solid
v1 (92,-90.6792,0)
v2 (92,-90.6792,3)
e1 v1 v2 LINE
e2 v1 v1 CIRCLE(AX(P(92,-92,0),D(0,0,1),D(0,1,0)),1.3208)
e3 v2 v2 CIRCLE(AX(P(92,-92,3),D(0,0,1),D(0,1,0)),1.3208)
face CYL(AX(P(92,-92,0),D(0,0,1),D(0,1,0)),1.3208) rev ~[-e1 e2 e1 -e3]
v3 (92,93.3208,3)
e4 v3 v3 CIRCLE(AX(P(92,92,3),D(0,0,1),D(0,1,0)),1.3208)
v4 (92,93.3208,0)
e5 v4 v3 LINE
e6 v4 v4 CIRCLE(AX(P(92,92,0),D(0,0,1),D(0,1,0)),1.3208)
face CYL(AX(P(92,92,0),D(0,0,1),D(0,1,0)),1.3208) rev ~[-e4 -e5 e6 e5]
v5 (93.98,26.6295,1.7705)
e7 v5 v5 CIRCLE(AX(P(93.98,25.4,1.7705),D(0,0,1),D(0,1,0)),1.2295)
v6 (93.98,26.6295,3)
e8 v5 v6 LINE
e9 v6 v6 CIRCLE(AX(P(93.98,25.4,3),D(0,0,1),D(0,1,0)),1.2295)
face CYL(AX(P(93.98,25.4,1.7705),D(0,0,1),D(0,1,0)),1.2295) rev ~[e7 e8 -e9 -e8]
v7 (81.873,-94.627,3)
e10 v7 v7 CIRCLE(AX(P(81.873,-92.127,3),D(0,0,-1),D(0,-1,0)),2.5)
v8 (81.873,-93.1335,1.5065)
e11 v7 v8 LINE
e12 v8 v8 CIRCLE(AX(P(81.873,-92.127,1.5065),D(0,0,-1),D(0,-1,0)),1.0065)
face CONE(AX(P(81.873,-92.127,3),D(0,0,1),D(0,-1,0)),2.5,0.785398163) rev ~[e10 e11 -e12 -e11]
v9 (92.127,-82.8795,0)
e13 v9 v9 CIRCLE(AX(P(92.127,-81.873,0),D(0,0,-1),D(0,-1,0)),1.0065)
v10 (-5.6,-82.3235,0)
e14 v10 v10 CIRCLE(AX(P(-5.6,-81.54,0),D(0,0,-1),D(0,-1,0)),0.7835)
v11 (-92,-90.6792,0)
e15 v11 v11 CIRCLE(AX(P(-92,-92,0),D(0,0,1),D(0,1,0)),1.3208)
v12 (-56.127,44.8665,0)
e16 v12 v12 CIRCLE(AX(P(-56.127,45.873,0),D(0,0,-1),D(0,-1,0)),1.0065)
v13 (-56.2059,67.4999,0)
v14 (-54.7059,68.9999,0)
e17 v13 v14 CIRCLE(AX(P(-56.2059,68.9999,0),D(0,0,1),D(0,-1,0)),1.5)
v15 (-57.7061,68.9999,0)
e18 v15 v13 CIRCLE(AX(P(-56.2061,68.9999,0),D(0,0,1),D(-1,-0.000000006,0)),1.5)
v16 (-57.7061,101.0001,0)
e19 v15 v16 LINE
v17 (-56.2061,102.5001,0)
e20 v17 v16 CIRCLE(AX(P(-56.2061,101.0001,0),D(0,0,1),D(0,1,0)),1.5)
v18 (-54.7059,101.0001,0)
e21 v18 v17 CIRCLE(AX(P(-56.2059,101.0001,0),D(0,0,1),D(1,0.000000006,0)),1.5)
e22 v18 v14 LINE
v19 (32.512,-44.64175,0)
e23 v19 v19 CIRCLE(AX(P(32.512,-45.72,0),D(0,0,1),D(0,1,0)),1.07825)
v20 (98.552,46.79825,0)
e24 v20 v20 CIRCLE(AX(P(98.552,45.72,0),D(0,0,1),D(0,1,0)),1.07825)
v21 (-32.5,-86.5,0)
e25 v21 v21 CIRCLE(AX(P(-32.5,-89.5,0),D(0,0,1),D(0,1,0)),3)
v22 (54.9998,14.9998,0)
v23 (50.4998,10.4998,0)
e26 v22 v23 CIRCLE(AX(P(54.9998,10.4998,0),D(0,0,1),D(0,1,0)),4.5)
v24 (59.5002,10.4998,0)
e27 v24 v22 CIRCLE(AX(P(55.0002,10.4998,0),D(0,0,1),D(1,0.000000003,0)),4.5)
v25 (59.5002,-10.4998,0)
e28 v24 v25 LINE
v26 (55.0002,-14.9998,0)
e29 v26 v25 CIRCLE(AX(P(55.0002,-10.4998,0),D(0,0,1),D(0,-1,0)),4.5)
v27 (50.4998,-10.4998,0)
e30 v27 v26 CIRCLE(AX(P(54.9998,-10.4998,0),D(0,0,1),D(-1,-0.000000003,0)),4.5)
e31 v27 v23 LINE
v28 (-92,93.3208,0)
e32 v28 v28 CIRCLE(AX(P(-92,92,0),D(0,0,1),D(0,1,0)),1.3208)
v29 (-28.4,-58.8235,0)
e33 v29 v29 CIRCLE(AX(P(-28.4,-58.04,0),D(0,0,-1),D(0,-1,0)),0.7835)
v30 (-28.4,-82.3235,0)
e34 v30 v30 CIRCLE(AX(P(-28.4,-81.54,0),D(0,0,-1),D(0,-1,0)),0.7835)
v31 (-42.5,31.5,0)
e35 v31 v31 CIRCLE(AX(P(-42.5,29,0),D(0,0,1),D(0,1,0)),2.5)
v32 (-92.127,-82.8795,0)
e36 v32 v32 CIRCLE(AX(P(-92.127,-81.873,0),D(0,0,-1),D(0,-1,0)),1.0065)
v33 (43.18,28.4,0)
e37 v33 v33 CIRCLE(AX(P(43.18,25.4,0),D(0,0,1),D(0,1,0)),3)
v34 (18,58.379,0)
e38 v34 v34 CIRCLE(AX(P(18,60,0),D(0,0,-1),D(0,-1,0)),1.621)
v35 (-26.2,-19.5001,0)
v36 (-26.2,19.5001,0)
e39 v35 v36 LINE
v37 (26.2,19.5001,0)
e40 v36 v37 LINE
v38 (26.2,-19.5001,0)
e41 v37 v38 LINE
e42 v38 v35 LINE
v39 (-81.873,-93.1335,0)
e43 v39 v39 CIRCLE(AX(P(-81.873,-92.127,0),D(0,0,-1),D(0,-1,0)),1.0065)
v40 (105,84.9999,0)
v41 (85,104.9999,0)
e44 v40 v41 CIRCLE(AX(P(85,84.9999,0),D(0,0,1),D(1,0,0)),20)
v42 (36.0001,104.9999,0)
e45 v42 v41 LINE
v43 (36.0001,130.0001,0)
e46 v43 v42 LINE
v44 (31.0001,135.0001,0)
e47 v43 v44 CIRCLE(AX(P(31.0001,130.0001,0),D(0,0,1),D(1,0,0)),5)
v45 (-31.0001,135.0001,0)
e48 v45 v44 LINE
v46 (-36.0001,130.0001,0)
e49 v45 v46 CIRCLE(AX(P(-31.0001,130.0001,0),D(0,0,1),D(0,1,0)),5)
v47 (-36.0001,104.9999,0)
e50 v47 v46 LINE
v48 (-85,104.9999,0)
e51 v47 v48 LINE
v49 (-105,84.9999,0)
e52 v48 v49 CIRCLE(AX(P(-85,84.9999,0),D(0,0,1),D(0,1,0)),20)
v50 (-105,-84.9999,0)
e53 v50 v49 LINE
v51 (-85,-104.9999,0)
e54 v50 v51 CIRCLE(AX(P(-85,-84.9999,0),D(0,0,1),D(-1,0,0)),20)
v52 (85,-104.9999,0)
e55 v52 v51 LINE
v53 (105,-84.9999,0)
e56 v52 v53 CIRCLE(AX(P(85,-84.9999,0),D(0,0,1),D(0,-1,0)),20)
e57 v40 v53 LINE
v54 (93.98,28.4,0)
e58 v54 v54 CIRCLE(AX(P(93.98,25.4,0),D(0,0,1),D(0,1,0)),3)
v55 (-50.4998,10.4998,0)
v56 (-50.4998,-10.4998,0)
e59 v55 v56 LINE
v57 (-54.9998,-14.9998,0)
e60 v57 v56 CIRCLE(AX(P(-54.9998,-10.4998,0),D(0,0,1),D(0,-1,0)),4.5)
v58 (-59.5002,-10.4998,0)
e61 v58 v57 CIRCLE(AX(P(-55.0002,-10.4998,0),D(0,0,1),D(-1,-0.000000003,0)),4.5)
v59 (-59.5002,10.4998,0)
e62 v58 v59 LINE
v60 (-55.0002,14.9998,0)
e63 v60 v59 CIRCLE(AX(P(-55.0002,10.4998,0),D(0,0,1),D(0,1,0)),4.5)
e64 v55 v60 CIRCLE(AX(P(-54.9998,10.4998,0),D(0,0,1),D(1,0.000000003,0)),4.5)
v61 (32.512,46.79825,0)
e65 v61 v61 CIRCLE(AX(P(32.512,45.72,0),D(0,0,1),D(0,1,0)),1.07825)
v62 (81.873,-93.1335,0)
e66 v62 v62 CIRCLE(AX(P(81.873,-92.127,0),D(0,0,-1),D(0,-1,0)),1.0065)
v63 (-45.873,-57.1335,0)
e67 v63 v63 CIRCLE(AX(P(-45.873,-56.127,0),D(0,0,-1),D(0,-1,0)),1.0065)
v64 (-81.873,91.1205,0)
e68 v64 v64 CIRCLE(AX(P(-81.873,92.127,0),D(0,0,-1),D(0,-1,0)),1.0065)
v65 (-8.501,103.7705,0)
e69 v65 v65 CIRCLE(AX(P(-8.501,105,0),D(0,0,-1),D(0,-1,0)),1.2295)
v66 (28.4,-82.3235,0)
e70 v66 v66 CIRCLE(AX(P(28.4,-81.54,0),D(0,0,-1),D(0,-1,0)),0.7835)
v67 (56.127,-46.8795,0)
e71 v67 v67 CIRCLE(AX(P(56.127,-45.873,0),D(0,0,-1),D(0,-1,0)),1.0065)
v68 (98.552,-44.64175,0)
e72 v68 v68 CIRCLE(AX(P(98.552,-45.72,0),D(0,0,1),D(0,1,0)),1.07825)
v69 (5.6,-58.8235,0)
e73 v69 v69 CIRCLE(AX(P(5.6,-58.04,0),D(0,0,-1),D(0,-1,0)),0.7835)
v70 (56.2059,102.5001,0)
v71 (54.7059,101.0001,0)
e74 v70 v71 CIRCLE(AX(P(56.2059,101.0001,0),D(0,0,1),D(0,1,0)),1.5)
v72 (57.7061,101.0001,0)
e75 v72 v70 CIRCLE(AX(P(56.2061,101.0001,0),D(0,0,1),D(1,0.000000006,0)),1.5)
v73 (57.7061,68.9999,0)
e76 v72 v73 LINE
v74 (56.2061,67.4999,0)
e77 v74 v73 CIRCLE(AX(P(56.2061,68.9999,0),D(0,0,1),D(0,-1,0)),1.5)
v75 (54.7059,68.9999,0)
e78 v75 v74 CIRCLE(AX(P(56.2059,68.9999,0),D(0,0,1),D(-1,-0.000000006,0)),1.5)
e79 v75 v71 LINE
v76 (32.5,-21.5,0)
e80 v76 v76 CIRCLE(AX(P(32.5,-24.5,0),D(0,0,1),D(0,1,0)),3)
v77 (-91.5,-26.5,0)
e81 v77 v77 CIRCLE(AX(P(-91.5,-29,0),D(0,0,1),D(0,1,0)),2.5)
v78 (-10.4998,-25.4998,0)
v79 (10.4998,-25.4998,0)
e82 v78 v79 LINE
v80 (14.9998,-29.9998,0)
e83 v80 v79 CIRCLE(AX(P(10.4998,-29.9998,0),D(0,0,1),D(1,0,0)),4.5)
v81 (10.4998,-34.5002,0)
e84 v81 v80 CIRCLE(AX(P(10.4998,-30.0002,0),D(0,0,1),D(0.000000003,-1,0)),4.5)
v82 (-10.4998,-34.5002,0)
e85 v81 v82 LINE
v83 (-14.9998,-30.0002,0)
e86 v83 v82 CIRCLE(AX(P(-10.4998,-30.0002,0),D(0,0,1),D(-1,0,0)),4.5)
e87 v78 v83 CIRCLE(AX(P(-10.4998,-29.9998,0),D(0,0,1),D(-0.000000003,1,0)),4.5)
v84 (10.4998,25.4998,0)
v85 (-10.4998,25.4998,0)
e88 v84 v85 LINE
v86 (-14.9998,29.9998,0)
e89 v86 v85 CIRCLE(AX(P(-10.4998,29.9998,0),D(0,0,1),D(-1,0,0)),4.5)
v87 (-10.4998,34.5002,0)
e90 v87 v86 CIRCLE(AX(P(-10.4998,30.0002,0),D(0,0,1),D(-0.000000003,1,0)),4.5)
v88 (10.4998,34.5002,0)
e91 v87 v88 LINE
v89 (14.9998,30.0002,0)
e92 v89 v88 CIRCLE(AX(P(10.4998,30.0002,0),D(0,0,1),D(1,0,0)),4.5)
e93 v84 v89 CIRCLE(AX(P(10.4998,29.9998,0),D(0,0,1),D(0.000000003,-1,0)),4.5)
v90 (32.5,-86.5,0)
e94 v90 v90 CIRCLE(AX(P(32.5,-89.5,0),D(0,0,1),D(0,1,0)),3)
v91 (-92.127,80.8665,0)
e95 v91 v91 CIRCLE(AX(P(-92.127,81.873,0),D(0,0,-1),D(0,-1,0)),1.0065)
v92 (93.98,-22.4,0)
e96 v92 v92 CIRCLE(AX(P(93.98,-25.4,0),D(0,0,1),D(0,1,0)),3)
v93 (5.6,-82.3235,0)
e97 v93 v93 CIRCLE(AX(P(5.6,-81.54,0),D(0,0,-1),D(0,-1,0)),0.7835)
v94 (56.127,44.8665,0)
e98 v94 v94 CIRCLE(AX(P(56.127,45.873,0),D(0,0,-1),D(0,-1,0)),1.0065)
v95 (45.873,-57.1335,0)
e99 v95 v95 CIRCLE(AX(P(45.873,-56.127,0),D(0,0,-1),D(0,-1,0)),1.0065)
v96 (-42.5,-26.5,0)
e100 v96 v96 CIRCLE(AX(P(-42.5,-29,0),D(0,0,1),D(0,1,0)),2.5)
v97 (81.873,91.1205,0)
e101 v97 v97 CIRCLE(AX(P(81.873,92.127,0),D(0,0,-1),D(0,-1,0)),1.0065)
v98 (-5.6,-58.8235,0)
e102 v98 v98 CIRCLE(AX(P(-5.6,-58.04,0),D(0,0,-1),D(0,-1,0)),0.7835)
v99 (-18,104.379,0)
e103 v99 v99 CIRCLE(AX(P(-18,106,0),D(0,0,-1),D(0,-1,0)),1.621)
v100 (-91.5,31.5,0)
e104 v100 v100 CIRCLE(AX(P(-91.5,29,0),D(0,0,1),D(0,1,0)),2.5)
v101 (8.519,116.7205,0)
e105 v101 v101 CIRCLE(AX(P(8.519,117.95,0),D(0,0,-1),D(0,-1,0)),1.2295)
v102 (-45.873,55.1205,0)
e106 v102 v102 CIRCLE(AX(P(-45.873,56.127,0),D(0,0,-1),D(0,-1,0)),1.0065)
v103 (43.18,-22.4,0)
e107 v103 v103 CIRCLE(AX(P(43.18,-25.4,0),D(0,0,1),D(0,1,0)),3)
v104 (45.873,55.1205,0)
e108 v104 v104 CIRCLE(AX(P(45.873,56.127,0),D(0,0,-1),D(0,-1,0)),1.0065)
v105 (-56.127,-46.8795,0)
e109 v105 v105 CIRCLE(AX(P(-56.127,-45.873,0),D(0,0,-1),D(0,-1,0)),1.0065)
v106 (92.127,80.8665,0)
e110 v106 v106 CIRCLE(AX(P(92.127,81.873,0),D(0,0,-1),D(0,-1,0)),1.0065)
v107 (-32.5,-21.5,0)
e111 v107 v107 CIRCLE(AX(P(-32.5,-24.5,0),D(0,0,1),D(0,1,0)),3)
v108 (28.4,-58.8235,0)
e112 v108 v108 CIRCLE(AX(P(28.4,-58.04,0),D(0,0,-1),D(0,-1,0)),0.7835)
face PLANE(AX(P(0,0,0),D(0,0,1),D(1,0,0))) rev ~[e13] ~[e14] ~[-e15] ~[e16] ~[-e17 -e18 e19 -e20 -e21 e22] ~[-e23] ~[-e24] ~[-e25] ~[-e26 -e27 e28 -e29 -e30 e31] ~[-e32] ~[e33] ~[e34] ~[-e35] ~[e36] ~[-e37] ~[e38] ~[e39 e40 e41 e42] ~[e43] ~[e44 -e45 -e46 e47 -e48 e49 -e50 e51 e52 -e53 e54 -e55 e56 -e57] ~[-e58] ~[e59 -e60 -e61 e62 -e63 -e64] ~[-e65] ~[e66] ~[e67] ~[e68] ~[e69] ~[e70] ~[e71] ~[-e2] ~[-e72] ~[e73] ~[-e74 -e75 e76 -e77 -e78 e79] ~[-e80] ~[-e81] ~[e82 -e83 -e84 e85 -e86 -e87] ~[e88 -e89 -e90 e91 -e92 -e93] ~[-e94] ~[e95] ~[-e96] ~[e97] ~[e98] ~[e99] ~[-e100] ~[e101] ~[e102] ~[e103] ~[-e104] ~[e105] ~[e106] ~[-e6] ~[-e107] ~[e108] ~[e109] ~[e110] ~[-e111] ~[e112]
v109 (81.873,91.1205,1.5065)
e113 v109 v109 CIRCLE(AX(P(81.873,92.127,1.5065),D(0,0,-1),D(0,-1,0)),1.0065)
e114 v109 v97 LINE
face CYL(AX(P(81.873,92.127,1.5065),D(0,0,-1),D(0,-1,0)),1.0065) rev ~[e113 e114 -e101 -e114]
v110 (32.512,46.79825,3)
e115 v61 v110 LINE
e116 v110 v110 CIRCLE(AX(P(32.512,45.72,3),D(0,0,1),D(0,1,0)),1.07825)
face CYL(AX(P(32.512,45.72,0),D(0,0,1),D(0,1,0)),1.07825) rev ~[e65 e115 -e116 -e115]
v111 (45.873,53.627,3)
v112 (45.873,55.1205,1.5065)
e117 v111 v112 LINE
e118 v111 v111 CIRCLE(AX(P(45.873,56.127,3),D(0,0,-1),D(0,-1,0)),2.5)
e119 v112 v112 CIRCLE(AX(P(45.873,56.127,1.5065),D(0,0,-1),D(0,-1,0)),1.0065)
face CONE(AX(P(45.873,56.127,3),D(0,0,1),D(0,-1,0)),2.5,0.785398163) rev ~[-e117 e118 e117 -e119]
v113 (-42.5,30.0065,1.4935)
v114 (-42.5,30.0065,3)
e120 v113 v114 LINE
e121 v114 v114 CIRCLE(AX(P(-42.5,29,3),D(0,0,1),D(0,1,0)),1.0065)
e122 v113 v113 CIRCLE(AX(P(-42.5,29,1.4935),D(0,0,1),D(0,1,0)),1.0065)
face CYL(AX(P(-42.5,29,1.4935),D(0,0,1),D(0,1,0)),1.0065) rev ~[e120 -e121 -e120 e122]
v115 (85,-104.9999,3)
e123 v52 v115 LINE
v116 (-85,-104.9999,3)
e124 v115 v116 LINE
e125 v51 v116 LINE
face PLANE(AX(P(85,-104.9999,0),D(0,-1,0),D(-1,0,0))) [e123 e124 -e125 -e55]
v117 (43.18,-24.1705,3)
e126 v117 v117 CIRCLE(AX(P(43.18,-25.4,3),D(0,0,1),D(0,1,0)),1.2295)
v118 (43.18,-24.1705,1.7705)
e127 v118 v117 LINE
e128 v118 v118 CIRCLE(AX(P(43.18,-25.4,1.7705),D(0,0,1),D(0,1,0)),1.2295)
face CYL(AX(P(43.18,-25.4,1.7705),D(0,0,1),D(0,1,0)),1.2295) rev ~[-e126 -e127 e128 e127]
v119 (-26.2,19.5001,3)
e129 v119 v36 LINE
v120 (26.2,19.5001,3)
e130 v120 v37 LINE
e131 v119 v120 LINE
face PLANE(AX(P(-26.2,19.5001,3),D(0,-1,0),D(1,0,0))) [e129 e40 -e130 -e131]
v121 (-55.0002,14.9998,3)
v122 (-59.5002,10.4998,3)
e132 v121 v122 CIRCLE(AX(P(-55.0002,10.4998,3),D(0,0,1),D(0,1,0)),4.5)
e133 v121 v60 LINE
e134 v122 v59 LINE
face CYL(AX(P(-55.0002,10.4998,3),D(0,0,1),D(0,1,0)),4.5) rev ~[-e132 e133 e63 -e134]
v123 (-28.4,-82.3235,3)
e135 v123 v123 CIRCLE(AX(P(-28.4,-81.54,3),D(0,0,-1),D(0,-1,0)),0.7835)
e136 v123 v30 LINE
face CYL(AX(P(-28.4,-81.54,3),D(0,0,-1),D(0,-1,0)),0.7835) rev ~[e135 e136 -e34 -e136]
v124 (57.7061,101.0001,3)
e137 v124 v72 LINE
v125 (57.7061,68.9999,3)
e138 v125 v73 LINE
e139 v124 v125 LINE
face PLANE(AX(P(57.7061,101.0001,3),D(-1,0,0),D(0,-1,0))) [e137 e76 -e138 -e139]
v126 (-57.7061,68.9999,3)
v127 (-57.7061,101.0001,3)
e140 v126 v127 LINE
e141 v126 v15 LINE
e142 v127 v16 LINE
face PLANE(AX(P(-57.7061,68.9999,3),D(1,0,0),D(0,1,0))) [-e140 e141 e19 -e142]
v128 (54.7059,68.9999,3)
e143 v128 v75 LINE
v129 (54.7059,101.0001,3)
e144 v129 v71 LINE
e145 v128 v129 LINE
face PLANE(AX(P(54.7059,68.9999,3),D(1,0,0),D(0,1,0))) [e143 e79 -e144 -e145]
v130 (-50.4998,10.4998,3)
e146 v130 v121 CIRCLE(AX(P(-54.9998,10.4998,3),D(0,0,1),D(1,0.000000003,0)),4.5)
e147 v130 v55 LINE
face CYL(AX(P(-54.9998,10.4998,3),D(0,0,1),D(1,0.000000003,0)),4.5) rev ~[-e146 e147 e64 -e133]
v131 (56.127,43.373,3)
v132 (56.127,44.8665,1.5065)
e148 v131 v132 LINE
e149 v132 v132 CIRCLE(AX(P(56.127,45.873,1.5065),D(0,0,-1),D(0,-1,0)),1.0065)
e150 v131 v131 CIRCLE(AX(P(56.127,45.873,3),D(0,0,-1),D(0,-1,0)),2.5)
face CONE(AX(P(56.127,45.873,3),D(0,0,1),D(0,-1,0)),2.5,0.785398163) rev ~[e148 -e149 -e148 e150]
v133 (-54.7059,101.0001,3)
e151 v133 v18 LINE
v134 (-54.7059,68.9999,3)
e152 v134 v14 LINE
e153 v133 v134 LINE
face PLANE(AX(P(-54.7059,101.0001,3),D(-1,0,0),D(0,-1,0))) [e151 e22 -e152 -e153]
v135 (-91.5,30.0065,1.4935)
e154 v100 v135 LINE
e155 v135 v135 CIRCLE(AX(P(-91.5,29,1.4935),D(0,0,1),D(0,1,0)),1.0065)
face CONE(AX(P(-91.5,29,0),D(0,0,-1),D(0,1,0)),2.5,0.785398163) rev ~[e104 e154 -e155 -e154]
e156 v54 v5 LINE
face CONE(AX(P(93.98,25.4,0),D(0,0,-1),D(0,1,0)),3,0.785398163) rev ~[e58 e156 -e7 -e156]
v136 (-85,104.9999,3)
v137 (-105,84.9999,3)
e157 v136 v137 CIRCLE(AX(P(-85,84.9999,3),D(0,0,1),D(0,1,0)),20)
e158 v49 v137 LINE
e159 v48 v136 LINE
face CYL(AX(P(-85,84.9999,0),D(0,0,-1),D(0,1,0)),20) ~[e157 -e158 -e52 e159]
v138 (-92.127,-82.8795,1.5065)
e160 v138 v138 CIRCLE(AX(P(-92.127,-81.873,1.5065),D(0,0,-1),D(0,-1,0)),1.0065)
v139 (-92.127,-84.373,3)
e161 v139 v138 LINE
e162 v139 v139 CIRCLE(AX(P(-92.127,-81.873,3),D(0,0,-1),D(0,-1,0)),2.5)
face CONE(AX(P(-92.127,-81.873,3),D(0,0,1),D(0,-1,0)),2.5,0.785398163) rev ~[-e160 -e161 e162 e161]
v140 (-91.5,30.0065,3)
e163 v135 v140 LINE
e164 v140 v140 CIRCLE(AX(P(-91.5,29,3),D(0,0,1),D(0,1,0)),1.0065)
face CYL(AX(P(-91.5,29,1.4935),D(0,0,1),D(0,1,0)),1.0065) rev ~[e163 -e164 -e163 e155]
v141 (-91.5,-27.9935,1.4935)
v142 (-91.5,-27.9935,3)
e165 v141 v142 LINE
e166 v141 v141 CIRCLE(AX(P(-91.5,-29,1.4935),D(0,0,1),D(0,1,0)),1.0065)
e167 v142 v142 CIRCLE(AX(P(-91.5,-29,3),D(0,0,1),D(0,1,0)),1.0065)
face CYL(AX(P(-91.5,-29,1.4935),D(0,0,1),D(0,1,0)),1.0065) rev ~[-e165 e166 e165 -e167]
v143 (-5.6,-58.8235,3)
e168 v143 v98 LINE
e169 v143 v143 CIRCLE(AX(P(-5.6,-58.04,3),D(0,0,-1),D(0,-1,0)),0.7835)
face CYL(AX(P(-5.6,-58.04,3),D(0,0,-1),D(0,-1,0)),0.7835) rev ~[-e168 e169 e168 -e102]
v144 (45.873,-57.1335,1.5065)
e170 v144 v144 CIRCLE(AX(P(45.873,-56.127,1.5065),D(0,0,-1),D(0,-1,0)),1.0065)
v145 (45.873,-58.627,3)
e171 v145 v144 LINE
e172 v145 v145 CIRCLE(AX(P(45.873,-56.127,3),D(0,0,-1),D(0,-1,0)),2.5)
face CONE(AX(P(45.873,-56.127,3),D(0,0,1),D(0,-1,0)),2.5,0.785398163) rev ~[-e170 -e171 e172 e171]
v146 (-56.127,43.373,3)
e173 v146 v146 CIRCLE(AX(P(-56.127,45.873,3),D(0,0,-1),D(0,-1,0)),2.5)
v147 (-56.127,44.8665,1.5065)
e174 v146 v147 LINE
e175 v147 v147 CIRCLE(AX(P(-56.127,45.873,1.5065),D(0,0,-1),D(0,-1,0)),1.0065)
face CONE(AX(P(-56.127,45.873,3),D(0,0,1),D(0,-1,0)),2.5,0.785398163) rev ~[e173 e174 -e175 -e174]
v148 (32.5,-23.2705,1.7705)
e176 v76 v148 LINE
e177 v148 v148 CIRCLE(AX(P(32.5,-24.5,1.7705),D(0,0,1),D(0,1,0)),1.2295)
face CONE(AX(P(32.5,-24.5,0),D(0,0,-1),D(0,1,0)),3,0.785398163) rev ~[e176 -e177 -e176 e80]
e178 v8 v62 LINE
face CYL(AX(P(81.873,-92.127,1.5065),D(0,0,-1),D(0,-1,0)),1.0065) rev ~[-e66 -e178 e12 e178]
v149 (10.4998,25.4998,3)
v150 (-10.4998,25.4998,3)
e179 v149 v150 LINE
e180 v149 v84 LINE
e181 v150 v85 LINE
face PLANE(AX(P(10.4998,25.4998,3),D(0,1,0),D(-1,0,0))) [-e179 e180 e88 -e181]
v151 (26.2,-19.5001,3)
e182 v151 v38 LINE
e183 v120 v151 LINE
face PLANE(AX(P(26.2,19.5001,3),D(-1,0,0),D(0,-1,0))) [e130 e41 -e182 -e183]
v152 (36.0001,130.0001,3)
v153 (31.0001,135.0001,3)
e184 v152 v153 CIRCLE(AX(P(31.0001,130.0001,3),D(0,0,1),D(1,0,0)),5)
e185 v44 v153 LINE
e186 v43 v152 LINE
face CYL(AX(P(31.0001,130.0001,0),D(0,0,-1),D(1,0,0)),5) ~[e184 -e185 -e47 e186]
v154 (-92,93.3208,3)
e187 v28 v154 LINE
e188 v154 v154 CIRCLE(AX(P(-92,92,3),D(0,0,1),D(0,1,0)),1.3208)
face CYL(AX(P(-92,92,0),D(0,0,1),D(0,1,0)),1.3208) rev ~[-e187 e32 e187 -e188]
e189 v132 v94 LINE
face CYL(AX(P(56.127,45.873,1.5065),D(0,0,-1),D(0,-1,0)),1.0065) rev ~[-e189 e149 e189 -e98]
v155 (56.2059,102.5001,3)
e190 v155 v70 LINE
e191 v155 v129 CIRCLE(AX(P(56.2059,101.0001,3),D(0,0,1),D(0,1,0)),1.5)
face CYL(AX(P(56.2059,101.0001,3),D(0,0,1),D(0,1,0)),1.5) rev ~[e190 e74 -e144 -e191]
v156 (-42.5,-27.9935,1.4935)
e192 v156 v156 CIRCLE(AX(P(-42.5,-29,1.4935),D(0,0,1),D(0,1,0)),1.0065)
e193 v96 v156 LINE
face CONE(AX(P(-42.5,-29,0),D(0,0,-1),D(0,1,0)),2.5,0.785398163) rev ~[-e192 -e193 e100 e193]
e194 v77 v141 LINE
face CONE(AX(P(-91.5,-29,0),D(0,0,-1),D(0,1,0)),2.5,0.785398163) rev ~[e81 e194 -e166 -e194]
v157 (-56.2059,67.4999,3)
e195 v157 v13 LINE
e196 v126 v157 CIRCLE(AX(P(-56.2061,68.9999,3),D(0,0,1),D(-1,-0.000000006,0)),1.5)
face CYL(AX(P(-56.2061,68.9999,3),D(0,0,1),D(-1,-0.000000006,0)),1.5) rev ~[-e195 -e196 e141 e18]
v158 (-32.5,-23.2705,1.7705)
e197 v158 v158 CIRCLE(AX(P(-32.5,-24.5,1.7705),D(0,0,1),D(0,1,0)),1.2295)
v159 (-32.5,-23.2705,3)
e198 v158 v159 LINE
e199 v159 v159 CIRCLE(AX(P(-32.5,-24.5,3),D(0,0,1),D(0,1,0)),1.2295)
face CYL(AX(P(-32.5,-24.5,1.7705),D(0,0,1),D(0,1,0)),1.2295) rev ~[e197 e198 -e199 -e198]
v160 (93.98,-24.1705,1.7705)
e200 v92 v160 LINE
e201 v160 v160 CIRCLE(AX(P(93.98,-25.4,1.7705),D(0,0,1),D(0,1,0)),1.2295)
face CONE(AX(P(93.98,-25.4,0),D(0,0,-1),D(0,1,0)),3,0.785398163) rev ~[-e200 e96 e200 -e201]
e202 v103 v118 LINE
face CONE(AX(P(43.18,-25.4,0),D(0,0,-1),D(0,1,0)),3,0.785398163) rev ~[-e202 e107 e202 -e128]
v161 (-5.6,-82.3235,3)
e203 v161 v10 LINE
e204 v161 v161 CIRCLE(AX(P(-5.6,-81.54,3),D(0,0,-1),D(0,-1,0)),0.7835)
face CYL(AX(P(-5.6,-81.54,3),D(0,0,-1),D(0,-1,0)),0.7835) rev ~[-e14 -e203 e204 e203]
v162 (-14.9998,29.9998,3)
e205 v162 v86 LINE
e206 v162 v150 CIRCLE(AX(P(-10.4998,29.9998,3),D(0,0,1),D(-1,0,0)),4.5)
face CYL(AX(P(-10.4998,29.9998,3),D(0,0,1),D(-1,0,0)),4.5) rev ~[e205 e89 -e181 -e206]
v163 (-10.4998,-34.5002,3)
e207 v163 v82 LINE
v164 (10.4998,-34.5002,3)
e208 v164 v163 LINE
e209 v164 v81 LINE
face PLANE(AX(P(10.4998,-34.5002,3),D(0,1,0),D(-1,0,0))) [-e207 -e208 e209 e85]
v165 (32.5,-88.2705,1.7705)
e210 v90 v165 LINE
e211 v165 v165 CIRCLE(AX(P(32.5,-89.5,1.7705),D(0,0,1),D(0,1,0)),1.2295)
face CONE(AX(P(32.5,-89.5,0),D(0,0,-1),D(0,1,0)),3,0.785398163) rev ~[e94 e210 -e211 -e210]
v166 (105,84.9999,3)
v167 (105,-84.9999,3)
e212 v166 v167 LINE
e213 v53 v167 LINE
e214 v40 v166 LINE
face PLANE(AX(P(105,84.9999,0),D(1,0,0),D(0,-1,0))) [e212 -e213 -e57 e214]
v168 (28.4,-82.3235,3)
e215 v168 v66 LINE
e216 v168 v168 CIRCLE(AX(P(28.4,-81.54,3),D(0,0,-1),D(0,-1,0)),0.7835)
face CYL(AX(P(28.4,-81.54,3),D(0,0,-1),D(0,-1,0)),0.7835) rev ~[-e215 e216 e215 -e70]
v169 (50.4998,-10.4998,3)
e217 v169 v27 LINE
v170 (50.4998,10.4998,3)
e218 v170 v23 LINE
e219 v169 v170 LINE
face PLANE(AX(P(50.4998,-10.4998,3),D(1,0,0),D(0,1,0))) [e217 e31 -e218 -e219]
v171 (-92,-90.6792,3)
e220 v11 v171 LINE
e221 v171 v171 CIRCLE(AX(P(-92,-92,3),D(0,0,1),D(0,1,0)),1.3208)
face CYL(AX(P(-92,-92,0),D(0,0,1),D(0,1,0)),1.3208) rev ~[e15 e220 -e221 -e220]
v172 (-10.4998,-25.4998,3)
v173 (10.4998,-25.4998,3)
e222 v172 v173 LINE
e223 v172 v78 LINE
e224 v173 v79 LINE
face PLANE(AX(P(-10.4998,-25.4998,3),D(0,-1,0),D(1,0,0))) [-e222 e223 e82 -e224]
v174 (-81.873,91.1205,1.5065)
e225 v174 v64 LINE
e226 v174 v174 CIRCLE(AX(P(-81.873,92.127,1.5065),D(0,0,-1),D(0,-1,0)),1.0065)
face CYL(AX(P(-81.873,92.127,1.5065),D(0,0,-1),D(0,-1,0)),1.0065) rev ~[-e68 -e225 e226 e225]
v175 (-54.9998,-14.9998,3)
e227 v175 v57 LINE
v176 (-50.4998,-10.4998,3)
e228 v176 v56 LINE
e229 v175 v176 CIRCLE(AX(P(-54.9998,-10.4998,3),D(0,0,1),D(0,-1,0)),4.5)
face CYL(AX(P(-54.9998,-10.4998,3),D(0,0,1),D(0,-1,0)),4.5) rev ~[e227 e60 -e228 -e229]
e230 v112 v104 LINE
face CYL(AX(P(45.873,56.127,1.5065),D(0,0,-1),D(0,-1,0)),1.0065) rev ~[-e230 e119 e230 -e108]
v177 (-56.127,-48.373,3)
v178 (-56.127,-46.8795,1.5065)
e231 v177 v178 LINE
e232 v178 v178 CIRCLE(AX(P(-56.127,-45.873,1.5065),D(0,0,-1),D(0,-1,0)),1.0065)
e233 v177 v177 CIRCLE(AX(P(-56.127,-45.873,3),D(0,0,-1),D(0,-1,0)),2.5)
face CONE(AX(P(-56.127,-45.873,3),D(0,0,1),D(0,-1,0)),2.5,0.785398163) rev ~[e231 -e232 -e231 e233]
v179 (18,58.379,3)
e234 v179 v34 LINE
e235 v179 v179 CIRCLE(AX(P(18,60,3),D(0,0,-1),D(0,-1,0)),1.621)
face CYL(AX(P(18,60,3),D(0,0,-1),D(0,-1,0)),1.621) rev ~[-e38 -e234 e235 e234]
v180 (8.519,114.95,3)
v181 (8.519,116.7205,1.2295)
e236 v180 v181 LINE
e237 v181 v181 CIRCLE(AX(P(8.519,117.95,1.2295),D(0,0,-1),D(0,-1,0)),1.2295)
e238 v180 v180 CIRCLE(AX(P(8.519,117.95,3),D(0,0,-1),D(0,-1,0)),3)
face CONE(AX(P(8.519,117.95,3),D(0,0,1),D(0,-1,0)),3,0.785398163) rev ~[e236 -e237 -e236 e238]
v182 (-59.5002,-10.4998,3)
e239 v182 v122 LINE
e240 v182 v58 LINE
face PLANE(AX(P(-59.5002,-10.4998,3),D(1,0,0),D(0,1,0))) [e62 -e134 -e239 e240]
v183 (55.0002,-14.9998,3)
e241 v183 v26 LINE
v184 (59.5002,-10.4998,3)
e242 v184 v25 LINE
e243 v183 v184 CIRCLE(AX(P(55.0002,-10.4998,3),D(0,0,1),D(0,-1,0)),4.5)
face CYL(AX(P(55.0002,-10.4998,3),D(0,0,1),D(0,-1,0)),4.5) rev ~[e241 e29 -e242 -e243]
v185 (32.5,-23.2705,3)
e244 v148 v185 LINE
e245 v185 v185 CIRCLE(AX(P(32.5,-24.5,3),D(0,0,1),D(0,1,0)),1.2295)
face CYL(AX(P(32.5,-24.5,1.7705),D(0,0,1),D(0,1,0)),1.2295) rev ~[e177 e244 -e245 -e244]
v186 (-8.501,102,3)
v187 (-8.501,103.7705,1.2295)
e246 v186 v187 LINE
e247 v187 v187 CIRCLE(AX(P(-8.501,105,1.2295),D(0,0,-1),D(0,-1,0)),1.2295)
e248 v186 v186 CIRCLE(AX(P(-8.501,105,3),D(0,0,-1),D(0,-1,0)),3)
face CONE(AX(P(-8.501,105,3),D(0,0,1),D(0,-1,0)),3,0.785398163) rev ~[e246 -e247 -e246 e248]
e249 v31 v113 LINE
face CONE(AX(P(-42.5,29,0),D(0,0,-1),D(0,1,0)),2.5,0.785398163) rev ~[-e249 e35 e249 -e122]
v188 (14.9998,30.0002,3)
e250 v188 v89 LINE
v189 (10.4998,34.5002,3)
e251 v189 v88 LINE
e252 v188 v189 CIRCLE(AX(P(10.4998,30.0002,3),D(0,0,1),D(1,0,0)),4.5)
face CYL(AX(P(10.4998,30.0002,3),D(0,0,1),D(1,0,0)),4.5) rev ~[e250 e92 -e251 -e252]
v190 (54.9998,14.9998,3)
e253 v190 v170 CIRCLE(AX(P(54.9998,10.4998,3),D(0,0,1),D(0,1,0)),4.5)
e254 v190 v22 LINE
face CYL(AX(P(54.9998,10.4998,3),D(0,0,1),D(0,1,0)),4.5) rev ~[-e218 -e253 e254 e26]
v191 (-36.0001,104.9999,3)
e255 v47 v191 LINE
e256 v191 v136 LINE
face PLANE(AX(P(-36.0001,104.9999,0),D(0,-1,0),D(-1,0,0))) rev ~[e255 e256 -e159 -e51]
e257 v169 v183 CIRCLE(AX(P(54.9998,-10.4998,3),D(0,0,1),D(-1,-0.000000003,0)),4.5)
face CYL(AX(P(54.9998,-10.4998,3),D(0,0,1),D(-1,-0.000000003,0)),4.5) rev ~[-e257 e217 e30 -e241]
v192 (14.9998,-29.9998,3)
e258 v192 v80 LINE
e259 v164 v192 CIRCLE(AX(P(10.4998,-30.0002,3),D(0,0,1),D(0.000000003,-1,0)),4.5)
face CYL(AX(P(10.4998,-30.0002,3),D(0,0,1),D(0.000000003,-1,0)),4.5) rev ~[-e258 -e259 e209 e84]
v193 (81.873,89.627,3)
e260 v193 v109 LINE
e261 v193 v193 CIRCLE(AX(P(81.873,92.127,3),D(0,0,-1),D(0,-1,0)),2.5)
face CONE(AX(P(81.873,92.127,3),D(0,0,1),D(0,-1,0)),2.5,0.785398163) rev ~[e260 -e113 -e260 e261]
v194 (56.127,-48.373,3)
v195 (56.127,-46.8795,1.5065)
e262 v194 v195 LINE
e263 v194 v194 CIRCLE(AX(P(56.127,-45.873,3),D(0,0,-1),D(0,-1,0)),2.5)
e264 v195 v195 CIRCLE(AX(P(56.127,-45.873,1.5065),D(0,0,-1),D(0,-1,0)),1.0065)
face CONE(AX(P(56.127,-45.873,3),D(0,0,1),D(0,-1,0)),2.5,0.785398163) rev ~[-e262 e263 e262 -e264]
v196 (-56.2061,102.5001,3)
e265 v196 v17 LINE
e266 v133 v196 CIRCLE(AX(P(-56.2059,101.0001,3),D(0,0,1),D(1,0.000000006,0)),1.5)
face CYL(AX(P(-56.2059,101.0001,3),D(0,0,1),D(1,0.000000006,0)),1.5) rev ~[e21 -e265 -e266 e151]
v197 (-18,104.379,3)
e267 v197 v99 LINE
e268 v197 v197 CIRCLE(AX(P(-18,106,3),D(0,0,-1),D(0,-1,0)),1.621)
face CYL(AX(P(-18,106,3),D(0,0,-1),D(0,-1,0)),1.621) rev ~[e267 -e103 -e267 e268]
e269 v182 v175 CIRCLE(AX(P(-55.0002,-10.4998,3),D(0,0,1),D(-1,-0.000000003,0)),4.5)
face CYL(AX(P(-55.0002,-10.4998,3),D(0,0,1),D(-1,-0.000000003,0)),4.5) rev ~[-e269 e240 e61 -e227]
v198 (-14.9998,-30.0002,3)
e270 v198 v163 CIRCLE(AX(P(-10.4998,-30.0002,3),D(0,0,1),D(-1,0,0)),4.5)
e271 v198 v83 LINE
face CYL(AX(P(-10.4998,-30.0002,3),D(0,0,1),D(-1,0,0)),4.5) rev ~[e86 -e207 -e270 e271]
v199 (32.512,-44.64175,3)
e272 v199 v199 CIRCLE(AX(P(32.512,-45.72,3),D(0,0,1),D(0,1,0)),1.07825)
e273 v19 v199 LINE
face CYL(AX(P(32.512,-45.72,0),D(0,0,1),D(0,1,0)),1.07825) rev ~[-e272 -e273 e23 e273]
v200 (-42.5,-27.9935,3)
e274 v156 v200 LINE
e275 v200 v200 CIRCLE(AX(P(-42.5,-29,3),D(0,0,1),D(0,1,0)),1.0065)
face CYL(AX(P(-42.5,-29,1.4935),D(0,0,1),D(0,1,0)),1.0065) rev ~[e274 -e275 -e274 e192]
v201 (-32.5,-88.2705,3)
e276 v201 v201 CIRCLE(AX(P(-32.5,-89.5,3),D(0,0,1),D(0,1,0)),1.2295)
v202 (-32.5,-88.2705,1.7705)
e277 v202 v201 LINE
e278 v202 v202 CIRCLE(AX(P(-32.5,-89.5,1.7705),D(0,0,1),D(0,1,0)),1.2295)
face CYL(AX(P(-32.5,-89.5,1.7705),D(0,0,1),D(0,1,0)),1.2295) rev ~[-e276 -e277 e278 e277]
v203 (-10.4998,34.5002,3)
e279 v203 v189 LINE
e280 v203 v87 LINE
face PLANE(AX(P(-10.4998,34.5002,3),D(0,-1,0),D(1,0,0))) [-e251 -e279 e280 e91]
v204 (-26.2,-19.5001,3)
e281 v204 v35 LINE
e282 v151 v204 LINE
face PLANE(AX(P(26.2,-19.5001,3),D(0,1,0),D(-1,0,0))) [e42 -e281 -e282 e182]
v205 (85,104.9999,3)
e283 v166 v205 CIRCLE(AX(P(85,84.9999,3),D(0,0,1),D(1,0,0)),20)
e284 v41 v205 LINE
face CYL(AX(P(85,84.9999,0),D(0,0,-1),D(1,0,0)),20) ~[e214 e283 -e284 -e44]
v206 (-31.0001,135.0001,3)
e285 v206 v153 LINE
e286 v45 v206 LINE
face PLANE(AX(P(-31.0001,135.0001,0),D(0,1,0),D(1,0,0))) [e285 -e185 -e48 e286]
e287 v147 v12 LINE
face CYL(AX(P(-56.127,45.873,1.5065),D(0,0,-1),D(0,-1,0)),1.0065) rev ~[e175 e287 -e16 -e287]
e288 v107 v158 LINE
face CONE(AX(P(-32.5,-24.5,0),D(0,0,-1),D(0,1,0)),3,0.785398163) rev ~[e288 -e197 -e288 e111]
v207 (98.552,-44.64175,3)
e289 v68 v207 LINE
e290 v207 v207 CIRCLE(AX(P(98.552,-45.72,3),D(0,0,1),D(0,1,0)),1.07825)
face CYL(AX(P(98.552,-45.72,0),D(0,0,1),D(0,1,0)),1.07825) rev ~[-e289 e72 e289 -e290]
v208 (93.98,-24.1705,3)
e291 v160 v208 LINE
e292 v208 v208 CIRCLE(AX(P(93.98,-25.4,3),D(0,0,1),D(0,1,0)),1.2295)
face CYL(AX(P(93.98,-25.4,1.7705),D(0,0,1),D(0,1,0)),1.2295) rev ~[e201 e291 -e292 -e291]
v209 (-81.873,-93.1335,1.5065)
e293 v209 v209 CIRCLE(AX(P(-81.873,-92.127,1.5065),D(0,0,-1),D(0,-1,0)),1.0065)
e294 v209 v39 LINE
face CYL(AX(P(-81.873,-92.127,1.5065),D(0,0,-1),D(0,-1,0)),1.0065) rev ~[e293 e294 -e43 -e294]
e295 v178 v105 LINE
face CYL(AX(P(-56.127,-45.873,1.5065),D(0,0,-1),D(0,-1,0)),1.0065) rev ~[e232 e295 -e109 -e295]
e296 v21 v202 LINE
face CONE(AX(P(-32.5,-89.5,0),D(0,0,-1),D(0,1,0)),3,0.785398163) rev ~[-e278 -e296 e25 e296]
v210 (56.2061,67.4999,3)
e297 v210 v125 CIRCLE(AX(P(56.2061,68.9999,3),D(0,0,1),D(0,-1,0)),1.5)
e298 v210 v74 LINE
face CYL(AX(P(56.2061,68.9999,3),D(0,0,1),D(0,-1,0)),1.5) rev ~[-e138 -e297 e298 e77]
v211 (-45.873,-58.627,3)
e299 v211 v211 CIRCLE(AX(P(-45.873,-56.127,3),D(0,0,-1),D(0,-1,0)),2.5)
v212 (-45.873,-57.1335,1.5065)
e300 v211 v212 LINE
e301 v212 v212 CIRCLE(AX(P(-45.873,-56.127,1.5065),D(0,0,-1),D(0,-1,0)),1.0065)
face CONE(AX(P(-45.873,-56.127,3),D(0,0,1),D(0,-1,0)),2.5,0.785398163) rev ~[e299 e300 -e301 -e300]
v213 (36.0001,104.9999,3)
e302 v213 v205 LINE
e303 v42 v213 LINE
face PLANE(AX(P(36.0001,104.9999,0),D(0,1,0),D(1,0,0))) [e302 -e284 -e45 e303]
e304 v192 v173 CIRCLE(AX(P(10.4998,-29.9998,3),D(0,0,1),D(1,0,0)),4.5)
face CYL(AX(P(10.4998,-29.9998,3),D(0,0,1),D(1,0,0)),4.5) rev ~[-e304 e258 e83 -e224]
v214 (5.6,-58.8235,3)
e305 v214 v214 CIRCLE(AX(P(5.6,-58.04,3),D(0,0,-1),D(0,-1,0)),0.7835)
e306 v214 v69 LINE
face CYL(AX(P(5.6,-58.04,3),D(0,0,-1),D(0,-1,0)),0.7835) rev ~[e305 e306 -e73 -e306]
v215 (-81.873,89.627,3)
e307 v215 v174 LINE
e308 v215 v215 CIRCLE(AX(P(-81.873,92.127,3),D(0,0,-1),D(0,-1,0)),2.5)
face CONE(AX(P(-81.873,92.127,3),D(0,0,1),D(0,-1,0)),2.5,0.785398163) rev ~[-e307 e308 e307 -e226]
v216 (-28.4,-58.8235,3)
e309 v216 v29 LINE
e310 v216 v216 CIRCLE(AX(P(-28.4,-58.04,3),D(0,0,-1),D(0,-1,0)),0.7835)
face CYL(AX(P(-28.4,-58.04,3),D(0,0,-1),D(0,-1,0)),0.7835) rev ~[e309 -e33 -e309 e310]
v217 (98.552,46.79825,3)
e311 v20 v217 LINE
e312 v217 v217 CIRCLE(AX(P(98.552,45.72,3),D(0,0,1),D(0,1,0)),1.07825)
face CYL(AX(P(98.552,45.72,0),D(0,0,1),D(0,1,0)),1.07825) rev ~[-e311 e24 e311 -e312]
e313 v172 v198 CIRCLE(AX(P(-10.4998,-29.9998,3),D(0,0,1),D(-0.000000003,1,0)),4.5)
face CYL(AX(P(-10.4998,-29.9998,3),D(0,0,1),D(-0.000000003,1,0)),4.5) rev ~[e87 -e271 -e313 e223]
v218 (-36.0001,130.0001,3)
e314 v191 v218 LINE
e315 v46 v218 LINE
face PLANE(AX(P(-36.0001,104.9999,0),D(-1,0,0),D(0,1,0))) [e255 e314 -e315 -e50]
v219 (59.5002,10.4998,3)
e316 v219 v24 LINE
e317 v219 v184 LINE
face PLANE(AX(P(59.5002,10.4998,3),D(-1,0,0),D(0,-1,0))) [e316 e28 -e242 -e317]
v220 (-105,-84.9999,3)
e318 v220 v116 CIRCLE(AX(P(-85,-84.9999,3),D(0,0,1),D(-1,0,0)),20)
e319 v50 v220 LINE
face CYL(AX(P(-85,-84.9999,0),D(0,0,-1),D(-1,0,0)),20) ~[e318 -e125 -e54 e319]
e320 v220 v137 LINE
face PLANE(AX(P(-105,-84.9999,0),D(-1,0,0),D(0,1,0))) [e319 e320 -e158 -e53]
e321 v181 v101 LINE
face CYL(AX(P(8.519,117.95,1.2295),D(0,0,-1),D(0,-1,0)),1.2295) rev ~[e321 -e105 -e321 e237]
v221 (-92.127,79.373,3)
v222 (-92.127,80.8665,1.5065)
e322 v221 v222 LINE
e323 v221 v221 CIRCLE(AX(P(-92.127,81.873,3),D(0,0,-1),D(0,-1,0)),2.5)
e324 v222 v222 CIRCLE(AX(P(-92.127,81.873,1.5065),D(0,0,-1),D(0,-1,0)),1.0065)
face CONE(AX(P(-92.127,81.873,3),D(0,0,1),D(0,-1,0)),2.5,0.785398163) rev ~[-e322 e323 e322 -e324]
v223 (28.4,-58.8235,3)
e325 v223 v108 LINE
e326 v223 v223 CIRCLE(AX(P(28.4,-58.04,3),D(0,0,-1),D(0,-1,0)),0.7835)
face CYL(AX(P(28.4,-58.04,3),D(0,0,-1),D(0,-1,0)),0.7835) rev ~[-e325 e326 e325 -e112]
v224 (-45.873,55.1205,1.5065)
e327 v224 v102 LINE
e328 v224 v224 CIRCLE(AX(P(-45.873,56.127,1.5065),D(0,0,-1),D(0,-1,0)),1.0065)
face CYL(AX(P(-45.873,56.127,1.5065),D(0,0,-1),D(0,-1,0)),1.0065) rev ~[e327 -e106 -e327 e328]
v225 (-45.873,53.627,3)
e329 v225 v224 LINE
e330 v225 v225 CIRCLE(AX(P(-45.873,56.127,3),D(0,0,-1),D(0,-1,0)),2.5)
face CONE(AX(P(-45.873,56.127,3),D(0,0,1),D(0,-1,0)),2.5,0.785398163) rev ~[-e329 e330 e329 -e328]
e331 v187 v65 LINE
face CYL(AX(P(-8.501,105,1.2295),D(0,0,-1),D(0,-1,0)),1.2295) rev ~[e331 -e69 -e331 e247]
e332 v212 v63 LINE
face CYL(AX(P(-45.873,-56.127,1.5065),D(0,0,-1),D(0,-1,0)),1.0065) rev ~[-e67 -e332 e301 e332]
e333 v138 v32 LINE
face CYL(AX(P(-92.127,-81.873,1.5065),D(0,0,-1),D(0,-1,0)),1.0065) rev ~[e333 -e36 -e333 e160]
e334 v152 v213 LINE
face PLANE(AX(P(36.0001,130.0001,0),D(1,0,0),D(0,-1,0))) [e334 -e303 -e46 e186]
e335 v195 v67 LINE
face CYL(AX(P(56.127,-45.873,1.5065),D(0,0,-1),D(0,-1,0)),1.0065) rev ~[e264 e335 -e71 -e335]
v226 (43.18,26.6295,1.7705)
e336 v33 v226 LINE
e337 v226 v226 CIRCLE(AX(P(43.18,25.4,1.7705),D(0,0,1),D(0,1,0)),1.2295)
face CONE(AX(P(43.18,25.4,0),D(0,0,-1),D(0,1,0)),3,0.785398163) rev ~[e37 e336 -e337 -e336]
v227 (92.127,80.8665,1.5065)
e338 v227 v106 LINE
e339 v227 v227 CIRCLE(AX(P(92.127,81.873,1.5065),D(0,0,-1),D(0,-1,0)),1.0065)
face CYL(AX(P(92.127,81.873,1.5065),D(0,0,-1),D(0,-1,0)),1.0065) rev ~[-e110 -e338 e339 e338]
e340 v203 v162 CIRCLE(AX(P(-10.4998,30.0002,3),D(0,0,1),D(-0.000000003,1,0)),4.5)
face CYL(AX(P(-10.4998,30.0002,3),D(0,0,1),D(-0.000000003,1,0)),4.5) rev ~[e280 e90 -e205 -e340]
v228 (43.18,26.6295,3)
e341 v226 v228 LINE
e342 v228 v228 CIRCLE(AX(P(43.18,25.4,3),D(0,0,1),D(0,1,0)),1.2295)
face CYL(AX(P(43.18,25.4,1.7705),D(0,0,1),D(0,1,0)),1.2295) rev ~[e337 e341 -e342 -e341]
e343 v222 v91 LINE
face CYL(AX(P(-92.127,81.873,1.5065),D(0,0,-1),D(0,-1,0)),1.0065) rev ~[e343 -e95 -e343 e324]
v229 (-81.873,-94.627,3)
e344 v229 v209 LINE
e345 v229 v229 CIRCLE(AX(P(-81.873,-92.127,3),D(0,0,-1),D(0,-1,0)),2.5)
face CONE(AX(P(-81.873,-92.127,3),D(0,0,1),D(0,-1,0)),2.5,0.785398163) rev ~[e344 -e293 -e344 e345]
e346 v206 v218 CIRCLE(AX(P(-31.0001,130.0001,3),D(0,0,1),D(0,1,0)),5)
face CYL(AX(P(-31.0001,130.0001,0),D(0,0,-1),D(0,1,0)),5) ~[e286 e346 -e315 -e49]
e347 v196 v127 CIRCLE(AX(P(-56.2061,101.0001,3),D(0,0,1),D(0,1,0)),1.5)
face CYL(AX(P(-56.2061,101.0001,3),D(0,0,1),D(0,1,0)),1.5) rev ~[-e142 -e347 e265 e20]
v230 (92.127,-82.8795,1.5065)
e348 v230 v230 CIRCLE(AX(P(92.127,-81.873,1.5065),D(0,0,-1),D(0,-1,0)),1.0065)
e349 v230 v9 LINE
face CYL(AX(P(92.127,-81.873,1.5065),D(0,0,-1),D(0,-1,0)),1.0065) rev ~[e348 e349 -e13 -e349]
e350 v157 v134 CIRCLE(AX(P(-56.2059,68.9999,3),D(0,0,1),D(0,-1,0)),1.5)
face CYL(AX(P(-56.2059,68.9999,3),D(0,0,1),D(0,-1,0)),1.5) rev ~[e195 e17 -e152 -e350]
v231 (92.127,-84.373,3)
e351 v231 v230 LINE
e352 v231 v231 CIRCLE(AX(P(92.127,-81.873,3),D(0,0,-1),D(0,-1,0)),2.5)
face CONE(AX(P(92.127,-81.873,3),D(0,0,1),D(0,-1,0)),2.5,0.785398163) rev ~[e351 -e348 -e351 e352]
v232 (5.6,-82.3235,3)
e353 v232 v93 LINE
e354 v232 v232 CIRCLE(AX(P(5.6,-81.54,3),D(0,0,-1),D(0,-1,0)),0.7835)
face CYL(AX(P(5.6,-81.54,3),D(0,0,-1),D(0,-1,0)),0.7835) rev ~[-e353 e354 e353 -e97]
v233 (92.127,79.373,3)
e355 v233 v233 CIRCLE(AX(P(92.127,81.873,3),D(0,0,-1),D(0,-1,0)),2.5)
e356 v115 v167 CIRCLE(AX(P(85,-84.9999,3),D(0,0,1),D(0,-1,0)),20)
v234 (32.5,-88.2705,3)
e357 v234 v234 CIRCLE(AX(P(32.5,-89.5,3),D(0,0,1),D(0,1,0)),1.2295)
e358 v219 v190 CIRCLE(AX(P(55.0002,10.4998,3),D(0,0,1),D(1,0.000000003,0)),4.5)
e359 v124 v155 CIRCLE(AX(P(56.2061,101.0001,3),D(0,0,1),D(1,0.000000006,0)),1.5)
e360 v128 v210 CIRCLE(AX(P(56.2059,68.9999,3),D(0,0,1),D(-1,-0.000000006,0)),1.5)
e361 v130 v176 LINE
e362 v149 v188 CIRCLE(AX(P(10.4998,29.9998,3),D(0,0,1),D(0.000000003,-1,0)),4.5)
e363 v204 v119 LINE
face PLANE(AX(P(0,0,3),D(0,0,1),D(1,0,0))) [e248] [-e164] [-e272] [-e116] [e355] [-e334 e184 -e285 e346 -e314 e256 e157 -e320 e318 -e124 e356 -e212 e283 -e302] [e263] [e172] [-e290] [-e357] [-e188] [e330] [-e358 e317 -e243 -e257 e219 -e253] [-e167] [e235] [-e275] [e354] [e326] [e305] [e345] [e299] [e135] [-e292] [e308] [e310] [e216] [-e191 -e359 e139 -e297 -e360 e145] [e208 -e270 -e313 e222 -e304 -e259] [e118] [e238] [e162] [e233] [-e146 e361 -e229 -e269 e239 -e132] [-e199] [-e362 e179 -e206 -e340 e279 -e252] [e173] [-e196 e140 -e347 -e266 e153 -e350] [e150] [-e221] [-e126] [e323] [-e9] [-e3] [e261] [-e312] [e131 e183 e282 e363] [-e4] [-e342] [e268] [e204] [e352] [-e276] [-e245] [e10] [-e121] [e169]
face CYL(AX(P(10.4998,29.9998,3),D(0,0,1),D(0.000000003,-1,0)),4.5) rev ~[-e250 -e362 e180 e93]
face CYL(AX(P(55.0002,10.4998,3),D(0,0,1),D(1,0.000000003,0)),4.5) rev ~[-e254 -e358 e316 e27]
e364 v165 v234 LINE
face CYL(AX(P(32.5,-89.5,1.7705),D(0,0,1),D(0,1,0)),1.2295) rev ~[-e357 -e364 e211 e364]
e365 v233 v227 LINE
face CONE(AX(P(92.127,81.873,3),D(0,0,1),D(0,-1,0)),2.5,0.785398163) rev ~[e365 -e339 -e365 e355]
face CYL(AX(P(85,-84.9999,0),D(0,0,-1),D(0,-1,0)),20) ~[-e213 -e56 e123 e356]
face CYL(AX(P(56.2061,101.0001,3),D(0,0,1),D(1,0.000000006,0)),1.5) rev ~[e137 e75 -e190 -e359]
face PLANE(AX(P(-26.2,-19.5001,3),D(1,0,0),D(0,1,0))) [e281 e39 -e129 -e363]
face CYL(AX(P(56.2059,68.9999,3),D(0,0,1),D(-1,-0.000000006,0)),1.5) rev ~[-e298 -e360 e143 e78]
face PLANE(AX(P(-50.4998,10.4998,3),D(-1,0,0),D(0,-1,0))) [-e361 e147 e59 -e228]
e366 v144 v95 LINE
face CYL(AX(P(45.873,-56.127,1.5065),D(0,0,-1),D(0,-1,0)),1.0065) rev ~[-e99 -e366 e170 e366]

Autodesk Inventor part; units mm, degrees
ref_plane "YZ Plane" through (0, 0, 0) normal (1, 0, 0) x (0, 1, 0)
ref_plane "XZ Plane" through (0, 0, 0) normal (0, 1, 0) x (-1, 0, 0)
ref_plane "XY Plane" through (0, 0, 0) normal (0, 0, 1) x (1, 0, 0)
sketch "Bay outline: sketch" plane through (0, 0, 0) normal (0, 0, 1) x (1, 0, 0)
  line L0 (105, 84.9999) -> (105, -84.9999)
  line L1 (85, -104.9999) -> (-85, -104.9999)
  line L2 (-105, -84.9999) -> (-105, 84.9999)
  line L3 (-31.0001, 135.0001) -> (31.0001, 135.0001)
  line L4 (36.0001, 130.0001) -> (36.0001, 104.9999)
  line L5 (-36.0001, 104.9999) -> (-36.0001, 130.0001)
  arc A0 (-85, 104.9999) -> (-105, 84.9999) centre (-85, 84.9999) ccw
  arc A1 (105, 84.9999) -> (85, 104.9999) centre (85, 84.9999) ccw
  arc A2 (85, -104.9999) -> (105, -84.9999) centre (85, -84.9999) ccw
  arc A3 (-105, -84.9999) -> (-85, -104.9999) centre (-85, -84.9999) ccw
  arc A4 (-31.0001, 135.0001) -> (-36.0001, 130.0001) centre (-31.0001, 130.0001) ccw
  arc A5 (36.0001, 130.0001) -> (31.0001, 135.0001) centre (31.0001, 130.0001) ccw
  line L6 (-36.0001, 104.9999) -> (-85, 104.9999)
  line L7 (36.0001, 104.9999) -> (85, 104.9999)
  dimension "d0" = 20
  dimension "d1" = 5
extrude "Extrusion1" add sketch "Bay outline: sketch" along normal blind 3
sketch "Cutouts for balun, cables and splitter" plane through (0, 0, 3) normal (0, 0, 1) x (1, 0, 0)
  line L0 (56.2059, 102.5001) -> (56.2061, 102.5001)
  line L1 (57.7061, 101.0001) -> (57.7061, 68.9999)
  line L2 (56.2061, 67.4999) -> (56.2059, 67.4999)
  line L3 (54.7059, 68.9999) -> (54.7059, 101.0001)
  arc A0 (56.2059, 102.5001) -> (54.7059, 101.0001) centre (56.2059, 101.0001) ccw
  arc A1 (57.7061, 101.0001) -> (56.2061, 102.5001) centre (56.2061, 101.0001) ccw
  arc A2 (56.2061, 67.4999) -> (57.7061, 68.9999) centre (56.2061, 68.9999) ccw
  arc A3 (54.7059, 68.9999) -> (56.2059, 67.4999) centre (56.2059, 68.9999) ccw
  line L4 (-56.2061, 102.5001) -> (-56.2059, 102.5001)
  line L5 (-54.7059, 101.0001) -> (-54.7059, 68.9999)
  line L6 (-56.2059, 67.4999) -> (-56.2061, 67.4999)
  line L7 (-57.7061, 68.9999) -> (-57.7061, 101.0001)
  arc A4 (-56.2061, 102.5001) -> (-57.7061, 101.0001) centre (-56.2061, 101.0001) ccw
  arc A5 (-54.7059, 101.0001) -> (-56.2059, 102.5001) centre (-56.2059, 101.0001) ccw
  arc A6 (-56.2059, 67.4999) -> (-54.7059, 68.9999) centre (-56.2059, 68.9999) ccw
  arc A7 (-57.7061, 68.9999) -> (-56.2061, 67.4999) centre (-56.2061, 68.9999) ccw
  line L8 (-26.2, 19.5001) -> (26.2, 19.5001)
  line L9 (26.2, 19.5001) -> (26.2, -19.5001)
  line L10 (26.2, -19.5001) -> (-26.2, -19.5001)
  line L11 (-26.2, -19.5001) -> (-26.2, 19.5001)
  line L12 (54.9998, 14.9998) -> (55.0002, 14.9998)
  line L13 (59.5002, 10.4998) -> (59.5002, -10.4998)
  line L14 (55.0002, -14.9998) -> (54.9998, -14.9998)
  line L15 (50.4998, -10.4998) -> (50.4998, 10.4998)
  arc A8 (54.9998, 14.9998) -> (50.4998, 10.4998) centre (54.9998, 10.4998) ccw
  arc A9 (59.5002, 10.4998) -> (55.0002, 14.9998) centre (55.0002, 10.4998) ccw
  arc A10 (55.0002, -14.9998) -> (59.5002, -10.4998) centre (55.0002, -10.4998) ccw
  arc A11 (50.4998, -10.4998) -> (54.9998, -14.9998) centre (54.9998, -10.4998) ccw
  line L16 (-55.0002, 14.9998) -> (-54.9998, 14.9998)
  line L17 (-50.4998, 10.4998) -> (-50.4998, -10.4998)
  line L18 (-54.9998, -14.9998) -> (-55.0002, -14.9998)
  line L19 (-59.5002, -10.4998) -> (-59.5002, 10.4998)
  arc A12 (-55.0002, 14.9998) -> (-59.5002, 10.4998) centre (-55.0002, 10.4998) ccw
  arc A13 (-50.4998, 10.4998) -> (-54.9998, 14.9998) centre (-54.9998, 10.4998) ccw
  arc A14 (-54.9998, -14.9998) -> (-50.4998, -10.4998) centre (-54.9998, -10.4998) ccw
  arc A15 (-59.5002, -10.4998) -> (-55.0002, -14.9998) centre (-55.0002, -10.4998) ccw
  line L20 (-14.9998, 29.9998) -> (-14.9998, 30.0002)
  line L21 (-10.4998, 34.5002) -> (10.4998, 34.5002)
  line L22 (14.9998, 30.0002) -> (14.9998, 29.9998)
  line L23 (10.4998, 25.4998) -> (-10.4998, 25.4998)
  arc A16 (-14.9998, 29.9998) -> (-10.4998, 25.4998) centre (-10.4998, 29.9998) ccw
  arc A17 (-10.4998, 34.5002) -> (-14.9998, 30.0002) centre (-10.4998, 30.0002) ccw
  arc A18 (14.9998, 30.0002) -> (10.4998, 34.5002) centre (10.4998, 30.0002) ccw
  arc A19 (10.4998, 25.4998) -> (14.9998, 29.9998) centre (10.4998, 29.9998) ccw
  line L24 (-14.9998, -30.0002) -> (-14.9998, -29.9998)
  line L25 (-10.4998, -25.4998) -> (10.4998, -25.4998)
  line L26 (14.9998, -29.9998) -> (14.9998, -30.0002)
  line L27 (10.4998, -34.5002) -> (-10.4998, -34.5002)
  arc A20 (-14.9998, -30.0002) -> (-10.4998, -34.5002) centre (-10.4998, -30.0002) ccw
  arc A21 (-10.4998, -25.4998) -> (-14.9998, -29.9998) centre (-10.4998, -29.9998) ccw
  arc A22 (14.9998, -29.9998) -> (10.4998, -25.4998) centre (10.4998, -29.9998) ccw
  arc A23 (10.4998, -34.5002) -> (14.9998, -30.0002) centre (10.4998, -30.0002) ccw
  point P0 (55, 0)
  point P1 (-55, 0)
  point P2 (0, 30)
  point P3 (0, -30)
  dimension "d5" = 1.5
  dimension "d6" = 1.5
  dimension "d8" = 4.5
  dimension "d9" = 4.5
  dimension "d10" = 4.5
  dimension "d11" = 4.5
sketch "Antenna mount holes" plane through (0, 0, 3) normal (0, 0, 1) x (1, 0, 0)
  circle A0 centre (45.873, 56.127) radius 1.2499
  circle A1 centre (-45.873, 56.127) radius 1.2499
  circle A2 centre (45.873, -56.127) radius 1.2499
  circle A3 centre (-45.873, -56.127) radius 1.2499
  circle A4 centre (56.127, 45.873) radius 1.2499
  circle A5 centre (-56.127, 45.873) radius 1.2499
  circle A6 centre (56.127, -45.873) radius 1.2499
  circle A7 centre (-56.127, -45.873) radius 1.2499
  circle A8 centre (81.873, 92.127) radius 1.2499
  circle A9 centre (-81.873, 92.127) radius 1.2499
  circle A10 centre (81.873, -92.127) radius 1.2499
  circle A11 centre (-81.873, -92.127) radius 1.2499
  circle A12 centre (92.127, 81.873) radius 1.2499
  circle A13 centre (-92.127, 81.873) radius 1.2499
  circle A14 centre (92.127, -81.873) radius 1.2499
  circle A15 centre (-92.127, -81.873) radius 1.2499
sketch "#6 standoff holes" plane through (0, 0, 0) normal (0, 0, 1) x (1, 0, 0)
  circle A0 centre (92, 92) radius 1.8984
  circle A1 centre (-92, 92) radius 1.8984
  circle A2 centre (92, -92) radius 1.8984
  circle A3 centre (-92, -92) radius 1.8984
hole "Hole2" at (92, 92, 0) at (-92, 92, 0) at (-92, -92, 0) at (92, -92, 0) direction (0, 0, 1) diameter 2.6416 end through all thread size "6-32 UNC" class "3B" standard "ANSI Unified Screw Threads"
hole "Hole5" at (45.873, 56.127, 3) at (56.127, 45.873, 3) at (92.127, 81.873, 3) at (81.873, 92.127, 3) at (-92.127, 81.873, 3) at (-81.873, 92.127, 3) at (-45.873, 56.127, 3) at (-56.127, 45.873, 3) at (-45.873, -56.127, 3) at (-56.127, -45.873, 3) at (-92.127, -81.873, 3) at (-81.873, -92.127, 3) at (45.873, -56.127, 3) at (56.127, -45.873, 3) at (92.127, -81.873, 3) at (81.873, -92.127, 3) direction (0, 0, -1) diameter 2.013 end through all countersink diameter 5 countersink angle 90 thread size "M2.5x0.45" class "6H" standard "ISO Metric profile"
sketch "Pi mount holes (bottom)" plane through (0, 0, 0) normal (0, 0, -1) x (-1, 0, 0)
  circle A0 centre (91.5, 29) radius 1.2501
  circle A1 centre (42.5, 29) radius 1.2501
  circle A2 centre (42.5, -29) radius 1.2501
  circle A3 centre (91.5, -29) radius 1.2501
hole "Hole6" at (-91.5, 29, 0) at (-91.5, -29, 0) at (-42.5, -29, 0) at (-42.5, 29, 0) direction (0, 0, 1) diameter 2.013 end through all countersink diameter 5 countersink angle 90 thread size "M2.5x0.45" class "6H" standard "ISO Metric profile"
sketch "Switch mount holes" plane through (0, 0, 3) normal (0, 0, 1) x (1, 0, 0)
  circle A0 centre (18, 60) radius 2.0002
  circle A1 centre (-18, 106) radius 2.0002
hole "Hole7" at (18, 60, 3) at (-18, 106, 3) direction (0, 0, -1) diameter 3.242 end through all thread size "M4x0.7" class "6H" standard "ISO Metric profile"
sketch "SONAR mount holes" plane through (0, 0, 3) normal (0, 0, 1) x (1, 0, 0)
  circle A0 centre (-8.501, 105) radius 1.4999
  circle A1 centre (8.519, 117.95) radius 1.4999
hole "Hole8" at (-8.501, 105, 3) at (8.519, 117.95, 3) direction (0, 0, -1) diameter 2.459 end through all countersink diameter 6 countersink angle 90 thread size "M3x0.5" class "6H" standard "ISO Metric profile"
sketch "RFoF mount holes" plane through (0, 0, 0) normal (0, 0, 1) x (1, 0, 0)
  circle A0 centre (32.5, -24.5) radius 1.5
  circle A1 centre (-32.5, -24.5) radius 1.5
  circle A2 centre (32.5, -89.5) radius 1.5
  circle A3 centre (-32.5, -89.5) radius 1.5
hole "Hole9" at (32.5, -24.5, 0) at (-32.5, -24.5, 0) at (-32.5, -89.5, 0) at (32.5, -89.5, 0) direction (0, 0, 1) diameter 2.459 end through all countersink diameter 6 countersink angle 90 thread size "M3x0.5" class "6H" standard "ISO Metric profile"
sketch "Orolia mount holes" plane through (0, 0, 0) normal (0, 0, 1) x (1, 0, 0)
  circle A0 centre (93.98, 25.4) radius 1.5001
  circle A1 centre (43.18, 25.4) radius 1.5001
  circle A2 centre (93.98, -25.4) radius 1.5001
  circle A3 centre (43.18, -25.4) radius 1.5001
hole "Hole10" at (93.98, 25.4, 0) at (43.18, 25.4, 0) at (93.98, -25.4, 0) at (43.18, -25.4, 0) direction (0, 0, 1) diameter 2.459 end through all countersink diameter 6 countersink angle 90 thread size "M3x0.5" class "6H" standard "ISO Metric profile"
sketch "OLED mount holes" plane through (0, 0, 3) normal (0, 0, 1) x (1, 0, 0)
  circle A0 centre (28.4, -58.04) radius 1.0001
  circle A1 centre (5.6, -58.04) radius 1.0001
  circle A2 centre (5.6, -81.54) radius 1.0001
  circle A3 centre (28.4, -81.54) radius 1.0001
  circle A4 centre (-5.6, -58.04) radius 1.0001
  circle A5 centre (-28.4, -58.04) radius 1.0001
  circle A6 centre (-28.4, -81.54) radius 1.0001
  circle A7 centre (-5.6, -81.54) radius 1.0001
hole "Hole11" at (-28.4, -58.04, 3) at (-28.4, -81.54, 3) at (-5.6, -81.54, 3) at (-5.6, -58.04, 3) at (5.6, -81.54, 3) at (5.6, -58.04, 3) at (28.4, -58.04, 3) at (28.4, -81.54, 3) direction (0, 0, -1) diameter 1.567 end through all thread size "M2x0.4" class "6H" standard "ISO Metric profile"
sketch "PRS10 mount holes" plane through (0, 0, 0) normal (0, 0, 1) x (1, 0, 0)
  circle A0 centre (98.552, 45.72) radius 1.4284
  circle A1 centre (32.512, 45.72) radius 1.4284
  circle A2 centre (98.552, -45.72) radius 1.4284
  circle A3 centre (32.512, -45.72) radius 1.4284
hole "Hole12" at (98.552, 45.72, 0) at (32.512, 45.72, 0) at (32.512, -45.72, 0) at (98.552, -45.72, 0) direction (0, 0, 1) diameter 2.1565 end through all thread size "4-40 UNC" class "2B" standard "ANSI Unified Screw Threads"
extrude "Extrusion4" cut sketch "Cutouts for balun, cables and splitter" against normal blind 10
properties part number "phase_payload_bay_redo_in_inventor_for_danny" material "ABS Plastic"
